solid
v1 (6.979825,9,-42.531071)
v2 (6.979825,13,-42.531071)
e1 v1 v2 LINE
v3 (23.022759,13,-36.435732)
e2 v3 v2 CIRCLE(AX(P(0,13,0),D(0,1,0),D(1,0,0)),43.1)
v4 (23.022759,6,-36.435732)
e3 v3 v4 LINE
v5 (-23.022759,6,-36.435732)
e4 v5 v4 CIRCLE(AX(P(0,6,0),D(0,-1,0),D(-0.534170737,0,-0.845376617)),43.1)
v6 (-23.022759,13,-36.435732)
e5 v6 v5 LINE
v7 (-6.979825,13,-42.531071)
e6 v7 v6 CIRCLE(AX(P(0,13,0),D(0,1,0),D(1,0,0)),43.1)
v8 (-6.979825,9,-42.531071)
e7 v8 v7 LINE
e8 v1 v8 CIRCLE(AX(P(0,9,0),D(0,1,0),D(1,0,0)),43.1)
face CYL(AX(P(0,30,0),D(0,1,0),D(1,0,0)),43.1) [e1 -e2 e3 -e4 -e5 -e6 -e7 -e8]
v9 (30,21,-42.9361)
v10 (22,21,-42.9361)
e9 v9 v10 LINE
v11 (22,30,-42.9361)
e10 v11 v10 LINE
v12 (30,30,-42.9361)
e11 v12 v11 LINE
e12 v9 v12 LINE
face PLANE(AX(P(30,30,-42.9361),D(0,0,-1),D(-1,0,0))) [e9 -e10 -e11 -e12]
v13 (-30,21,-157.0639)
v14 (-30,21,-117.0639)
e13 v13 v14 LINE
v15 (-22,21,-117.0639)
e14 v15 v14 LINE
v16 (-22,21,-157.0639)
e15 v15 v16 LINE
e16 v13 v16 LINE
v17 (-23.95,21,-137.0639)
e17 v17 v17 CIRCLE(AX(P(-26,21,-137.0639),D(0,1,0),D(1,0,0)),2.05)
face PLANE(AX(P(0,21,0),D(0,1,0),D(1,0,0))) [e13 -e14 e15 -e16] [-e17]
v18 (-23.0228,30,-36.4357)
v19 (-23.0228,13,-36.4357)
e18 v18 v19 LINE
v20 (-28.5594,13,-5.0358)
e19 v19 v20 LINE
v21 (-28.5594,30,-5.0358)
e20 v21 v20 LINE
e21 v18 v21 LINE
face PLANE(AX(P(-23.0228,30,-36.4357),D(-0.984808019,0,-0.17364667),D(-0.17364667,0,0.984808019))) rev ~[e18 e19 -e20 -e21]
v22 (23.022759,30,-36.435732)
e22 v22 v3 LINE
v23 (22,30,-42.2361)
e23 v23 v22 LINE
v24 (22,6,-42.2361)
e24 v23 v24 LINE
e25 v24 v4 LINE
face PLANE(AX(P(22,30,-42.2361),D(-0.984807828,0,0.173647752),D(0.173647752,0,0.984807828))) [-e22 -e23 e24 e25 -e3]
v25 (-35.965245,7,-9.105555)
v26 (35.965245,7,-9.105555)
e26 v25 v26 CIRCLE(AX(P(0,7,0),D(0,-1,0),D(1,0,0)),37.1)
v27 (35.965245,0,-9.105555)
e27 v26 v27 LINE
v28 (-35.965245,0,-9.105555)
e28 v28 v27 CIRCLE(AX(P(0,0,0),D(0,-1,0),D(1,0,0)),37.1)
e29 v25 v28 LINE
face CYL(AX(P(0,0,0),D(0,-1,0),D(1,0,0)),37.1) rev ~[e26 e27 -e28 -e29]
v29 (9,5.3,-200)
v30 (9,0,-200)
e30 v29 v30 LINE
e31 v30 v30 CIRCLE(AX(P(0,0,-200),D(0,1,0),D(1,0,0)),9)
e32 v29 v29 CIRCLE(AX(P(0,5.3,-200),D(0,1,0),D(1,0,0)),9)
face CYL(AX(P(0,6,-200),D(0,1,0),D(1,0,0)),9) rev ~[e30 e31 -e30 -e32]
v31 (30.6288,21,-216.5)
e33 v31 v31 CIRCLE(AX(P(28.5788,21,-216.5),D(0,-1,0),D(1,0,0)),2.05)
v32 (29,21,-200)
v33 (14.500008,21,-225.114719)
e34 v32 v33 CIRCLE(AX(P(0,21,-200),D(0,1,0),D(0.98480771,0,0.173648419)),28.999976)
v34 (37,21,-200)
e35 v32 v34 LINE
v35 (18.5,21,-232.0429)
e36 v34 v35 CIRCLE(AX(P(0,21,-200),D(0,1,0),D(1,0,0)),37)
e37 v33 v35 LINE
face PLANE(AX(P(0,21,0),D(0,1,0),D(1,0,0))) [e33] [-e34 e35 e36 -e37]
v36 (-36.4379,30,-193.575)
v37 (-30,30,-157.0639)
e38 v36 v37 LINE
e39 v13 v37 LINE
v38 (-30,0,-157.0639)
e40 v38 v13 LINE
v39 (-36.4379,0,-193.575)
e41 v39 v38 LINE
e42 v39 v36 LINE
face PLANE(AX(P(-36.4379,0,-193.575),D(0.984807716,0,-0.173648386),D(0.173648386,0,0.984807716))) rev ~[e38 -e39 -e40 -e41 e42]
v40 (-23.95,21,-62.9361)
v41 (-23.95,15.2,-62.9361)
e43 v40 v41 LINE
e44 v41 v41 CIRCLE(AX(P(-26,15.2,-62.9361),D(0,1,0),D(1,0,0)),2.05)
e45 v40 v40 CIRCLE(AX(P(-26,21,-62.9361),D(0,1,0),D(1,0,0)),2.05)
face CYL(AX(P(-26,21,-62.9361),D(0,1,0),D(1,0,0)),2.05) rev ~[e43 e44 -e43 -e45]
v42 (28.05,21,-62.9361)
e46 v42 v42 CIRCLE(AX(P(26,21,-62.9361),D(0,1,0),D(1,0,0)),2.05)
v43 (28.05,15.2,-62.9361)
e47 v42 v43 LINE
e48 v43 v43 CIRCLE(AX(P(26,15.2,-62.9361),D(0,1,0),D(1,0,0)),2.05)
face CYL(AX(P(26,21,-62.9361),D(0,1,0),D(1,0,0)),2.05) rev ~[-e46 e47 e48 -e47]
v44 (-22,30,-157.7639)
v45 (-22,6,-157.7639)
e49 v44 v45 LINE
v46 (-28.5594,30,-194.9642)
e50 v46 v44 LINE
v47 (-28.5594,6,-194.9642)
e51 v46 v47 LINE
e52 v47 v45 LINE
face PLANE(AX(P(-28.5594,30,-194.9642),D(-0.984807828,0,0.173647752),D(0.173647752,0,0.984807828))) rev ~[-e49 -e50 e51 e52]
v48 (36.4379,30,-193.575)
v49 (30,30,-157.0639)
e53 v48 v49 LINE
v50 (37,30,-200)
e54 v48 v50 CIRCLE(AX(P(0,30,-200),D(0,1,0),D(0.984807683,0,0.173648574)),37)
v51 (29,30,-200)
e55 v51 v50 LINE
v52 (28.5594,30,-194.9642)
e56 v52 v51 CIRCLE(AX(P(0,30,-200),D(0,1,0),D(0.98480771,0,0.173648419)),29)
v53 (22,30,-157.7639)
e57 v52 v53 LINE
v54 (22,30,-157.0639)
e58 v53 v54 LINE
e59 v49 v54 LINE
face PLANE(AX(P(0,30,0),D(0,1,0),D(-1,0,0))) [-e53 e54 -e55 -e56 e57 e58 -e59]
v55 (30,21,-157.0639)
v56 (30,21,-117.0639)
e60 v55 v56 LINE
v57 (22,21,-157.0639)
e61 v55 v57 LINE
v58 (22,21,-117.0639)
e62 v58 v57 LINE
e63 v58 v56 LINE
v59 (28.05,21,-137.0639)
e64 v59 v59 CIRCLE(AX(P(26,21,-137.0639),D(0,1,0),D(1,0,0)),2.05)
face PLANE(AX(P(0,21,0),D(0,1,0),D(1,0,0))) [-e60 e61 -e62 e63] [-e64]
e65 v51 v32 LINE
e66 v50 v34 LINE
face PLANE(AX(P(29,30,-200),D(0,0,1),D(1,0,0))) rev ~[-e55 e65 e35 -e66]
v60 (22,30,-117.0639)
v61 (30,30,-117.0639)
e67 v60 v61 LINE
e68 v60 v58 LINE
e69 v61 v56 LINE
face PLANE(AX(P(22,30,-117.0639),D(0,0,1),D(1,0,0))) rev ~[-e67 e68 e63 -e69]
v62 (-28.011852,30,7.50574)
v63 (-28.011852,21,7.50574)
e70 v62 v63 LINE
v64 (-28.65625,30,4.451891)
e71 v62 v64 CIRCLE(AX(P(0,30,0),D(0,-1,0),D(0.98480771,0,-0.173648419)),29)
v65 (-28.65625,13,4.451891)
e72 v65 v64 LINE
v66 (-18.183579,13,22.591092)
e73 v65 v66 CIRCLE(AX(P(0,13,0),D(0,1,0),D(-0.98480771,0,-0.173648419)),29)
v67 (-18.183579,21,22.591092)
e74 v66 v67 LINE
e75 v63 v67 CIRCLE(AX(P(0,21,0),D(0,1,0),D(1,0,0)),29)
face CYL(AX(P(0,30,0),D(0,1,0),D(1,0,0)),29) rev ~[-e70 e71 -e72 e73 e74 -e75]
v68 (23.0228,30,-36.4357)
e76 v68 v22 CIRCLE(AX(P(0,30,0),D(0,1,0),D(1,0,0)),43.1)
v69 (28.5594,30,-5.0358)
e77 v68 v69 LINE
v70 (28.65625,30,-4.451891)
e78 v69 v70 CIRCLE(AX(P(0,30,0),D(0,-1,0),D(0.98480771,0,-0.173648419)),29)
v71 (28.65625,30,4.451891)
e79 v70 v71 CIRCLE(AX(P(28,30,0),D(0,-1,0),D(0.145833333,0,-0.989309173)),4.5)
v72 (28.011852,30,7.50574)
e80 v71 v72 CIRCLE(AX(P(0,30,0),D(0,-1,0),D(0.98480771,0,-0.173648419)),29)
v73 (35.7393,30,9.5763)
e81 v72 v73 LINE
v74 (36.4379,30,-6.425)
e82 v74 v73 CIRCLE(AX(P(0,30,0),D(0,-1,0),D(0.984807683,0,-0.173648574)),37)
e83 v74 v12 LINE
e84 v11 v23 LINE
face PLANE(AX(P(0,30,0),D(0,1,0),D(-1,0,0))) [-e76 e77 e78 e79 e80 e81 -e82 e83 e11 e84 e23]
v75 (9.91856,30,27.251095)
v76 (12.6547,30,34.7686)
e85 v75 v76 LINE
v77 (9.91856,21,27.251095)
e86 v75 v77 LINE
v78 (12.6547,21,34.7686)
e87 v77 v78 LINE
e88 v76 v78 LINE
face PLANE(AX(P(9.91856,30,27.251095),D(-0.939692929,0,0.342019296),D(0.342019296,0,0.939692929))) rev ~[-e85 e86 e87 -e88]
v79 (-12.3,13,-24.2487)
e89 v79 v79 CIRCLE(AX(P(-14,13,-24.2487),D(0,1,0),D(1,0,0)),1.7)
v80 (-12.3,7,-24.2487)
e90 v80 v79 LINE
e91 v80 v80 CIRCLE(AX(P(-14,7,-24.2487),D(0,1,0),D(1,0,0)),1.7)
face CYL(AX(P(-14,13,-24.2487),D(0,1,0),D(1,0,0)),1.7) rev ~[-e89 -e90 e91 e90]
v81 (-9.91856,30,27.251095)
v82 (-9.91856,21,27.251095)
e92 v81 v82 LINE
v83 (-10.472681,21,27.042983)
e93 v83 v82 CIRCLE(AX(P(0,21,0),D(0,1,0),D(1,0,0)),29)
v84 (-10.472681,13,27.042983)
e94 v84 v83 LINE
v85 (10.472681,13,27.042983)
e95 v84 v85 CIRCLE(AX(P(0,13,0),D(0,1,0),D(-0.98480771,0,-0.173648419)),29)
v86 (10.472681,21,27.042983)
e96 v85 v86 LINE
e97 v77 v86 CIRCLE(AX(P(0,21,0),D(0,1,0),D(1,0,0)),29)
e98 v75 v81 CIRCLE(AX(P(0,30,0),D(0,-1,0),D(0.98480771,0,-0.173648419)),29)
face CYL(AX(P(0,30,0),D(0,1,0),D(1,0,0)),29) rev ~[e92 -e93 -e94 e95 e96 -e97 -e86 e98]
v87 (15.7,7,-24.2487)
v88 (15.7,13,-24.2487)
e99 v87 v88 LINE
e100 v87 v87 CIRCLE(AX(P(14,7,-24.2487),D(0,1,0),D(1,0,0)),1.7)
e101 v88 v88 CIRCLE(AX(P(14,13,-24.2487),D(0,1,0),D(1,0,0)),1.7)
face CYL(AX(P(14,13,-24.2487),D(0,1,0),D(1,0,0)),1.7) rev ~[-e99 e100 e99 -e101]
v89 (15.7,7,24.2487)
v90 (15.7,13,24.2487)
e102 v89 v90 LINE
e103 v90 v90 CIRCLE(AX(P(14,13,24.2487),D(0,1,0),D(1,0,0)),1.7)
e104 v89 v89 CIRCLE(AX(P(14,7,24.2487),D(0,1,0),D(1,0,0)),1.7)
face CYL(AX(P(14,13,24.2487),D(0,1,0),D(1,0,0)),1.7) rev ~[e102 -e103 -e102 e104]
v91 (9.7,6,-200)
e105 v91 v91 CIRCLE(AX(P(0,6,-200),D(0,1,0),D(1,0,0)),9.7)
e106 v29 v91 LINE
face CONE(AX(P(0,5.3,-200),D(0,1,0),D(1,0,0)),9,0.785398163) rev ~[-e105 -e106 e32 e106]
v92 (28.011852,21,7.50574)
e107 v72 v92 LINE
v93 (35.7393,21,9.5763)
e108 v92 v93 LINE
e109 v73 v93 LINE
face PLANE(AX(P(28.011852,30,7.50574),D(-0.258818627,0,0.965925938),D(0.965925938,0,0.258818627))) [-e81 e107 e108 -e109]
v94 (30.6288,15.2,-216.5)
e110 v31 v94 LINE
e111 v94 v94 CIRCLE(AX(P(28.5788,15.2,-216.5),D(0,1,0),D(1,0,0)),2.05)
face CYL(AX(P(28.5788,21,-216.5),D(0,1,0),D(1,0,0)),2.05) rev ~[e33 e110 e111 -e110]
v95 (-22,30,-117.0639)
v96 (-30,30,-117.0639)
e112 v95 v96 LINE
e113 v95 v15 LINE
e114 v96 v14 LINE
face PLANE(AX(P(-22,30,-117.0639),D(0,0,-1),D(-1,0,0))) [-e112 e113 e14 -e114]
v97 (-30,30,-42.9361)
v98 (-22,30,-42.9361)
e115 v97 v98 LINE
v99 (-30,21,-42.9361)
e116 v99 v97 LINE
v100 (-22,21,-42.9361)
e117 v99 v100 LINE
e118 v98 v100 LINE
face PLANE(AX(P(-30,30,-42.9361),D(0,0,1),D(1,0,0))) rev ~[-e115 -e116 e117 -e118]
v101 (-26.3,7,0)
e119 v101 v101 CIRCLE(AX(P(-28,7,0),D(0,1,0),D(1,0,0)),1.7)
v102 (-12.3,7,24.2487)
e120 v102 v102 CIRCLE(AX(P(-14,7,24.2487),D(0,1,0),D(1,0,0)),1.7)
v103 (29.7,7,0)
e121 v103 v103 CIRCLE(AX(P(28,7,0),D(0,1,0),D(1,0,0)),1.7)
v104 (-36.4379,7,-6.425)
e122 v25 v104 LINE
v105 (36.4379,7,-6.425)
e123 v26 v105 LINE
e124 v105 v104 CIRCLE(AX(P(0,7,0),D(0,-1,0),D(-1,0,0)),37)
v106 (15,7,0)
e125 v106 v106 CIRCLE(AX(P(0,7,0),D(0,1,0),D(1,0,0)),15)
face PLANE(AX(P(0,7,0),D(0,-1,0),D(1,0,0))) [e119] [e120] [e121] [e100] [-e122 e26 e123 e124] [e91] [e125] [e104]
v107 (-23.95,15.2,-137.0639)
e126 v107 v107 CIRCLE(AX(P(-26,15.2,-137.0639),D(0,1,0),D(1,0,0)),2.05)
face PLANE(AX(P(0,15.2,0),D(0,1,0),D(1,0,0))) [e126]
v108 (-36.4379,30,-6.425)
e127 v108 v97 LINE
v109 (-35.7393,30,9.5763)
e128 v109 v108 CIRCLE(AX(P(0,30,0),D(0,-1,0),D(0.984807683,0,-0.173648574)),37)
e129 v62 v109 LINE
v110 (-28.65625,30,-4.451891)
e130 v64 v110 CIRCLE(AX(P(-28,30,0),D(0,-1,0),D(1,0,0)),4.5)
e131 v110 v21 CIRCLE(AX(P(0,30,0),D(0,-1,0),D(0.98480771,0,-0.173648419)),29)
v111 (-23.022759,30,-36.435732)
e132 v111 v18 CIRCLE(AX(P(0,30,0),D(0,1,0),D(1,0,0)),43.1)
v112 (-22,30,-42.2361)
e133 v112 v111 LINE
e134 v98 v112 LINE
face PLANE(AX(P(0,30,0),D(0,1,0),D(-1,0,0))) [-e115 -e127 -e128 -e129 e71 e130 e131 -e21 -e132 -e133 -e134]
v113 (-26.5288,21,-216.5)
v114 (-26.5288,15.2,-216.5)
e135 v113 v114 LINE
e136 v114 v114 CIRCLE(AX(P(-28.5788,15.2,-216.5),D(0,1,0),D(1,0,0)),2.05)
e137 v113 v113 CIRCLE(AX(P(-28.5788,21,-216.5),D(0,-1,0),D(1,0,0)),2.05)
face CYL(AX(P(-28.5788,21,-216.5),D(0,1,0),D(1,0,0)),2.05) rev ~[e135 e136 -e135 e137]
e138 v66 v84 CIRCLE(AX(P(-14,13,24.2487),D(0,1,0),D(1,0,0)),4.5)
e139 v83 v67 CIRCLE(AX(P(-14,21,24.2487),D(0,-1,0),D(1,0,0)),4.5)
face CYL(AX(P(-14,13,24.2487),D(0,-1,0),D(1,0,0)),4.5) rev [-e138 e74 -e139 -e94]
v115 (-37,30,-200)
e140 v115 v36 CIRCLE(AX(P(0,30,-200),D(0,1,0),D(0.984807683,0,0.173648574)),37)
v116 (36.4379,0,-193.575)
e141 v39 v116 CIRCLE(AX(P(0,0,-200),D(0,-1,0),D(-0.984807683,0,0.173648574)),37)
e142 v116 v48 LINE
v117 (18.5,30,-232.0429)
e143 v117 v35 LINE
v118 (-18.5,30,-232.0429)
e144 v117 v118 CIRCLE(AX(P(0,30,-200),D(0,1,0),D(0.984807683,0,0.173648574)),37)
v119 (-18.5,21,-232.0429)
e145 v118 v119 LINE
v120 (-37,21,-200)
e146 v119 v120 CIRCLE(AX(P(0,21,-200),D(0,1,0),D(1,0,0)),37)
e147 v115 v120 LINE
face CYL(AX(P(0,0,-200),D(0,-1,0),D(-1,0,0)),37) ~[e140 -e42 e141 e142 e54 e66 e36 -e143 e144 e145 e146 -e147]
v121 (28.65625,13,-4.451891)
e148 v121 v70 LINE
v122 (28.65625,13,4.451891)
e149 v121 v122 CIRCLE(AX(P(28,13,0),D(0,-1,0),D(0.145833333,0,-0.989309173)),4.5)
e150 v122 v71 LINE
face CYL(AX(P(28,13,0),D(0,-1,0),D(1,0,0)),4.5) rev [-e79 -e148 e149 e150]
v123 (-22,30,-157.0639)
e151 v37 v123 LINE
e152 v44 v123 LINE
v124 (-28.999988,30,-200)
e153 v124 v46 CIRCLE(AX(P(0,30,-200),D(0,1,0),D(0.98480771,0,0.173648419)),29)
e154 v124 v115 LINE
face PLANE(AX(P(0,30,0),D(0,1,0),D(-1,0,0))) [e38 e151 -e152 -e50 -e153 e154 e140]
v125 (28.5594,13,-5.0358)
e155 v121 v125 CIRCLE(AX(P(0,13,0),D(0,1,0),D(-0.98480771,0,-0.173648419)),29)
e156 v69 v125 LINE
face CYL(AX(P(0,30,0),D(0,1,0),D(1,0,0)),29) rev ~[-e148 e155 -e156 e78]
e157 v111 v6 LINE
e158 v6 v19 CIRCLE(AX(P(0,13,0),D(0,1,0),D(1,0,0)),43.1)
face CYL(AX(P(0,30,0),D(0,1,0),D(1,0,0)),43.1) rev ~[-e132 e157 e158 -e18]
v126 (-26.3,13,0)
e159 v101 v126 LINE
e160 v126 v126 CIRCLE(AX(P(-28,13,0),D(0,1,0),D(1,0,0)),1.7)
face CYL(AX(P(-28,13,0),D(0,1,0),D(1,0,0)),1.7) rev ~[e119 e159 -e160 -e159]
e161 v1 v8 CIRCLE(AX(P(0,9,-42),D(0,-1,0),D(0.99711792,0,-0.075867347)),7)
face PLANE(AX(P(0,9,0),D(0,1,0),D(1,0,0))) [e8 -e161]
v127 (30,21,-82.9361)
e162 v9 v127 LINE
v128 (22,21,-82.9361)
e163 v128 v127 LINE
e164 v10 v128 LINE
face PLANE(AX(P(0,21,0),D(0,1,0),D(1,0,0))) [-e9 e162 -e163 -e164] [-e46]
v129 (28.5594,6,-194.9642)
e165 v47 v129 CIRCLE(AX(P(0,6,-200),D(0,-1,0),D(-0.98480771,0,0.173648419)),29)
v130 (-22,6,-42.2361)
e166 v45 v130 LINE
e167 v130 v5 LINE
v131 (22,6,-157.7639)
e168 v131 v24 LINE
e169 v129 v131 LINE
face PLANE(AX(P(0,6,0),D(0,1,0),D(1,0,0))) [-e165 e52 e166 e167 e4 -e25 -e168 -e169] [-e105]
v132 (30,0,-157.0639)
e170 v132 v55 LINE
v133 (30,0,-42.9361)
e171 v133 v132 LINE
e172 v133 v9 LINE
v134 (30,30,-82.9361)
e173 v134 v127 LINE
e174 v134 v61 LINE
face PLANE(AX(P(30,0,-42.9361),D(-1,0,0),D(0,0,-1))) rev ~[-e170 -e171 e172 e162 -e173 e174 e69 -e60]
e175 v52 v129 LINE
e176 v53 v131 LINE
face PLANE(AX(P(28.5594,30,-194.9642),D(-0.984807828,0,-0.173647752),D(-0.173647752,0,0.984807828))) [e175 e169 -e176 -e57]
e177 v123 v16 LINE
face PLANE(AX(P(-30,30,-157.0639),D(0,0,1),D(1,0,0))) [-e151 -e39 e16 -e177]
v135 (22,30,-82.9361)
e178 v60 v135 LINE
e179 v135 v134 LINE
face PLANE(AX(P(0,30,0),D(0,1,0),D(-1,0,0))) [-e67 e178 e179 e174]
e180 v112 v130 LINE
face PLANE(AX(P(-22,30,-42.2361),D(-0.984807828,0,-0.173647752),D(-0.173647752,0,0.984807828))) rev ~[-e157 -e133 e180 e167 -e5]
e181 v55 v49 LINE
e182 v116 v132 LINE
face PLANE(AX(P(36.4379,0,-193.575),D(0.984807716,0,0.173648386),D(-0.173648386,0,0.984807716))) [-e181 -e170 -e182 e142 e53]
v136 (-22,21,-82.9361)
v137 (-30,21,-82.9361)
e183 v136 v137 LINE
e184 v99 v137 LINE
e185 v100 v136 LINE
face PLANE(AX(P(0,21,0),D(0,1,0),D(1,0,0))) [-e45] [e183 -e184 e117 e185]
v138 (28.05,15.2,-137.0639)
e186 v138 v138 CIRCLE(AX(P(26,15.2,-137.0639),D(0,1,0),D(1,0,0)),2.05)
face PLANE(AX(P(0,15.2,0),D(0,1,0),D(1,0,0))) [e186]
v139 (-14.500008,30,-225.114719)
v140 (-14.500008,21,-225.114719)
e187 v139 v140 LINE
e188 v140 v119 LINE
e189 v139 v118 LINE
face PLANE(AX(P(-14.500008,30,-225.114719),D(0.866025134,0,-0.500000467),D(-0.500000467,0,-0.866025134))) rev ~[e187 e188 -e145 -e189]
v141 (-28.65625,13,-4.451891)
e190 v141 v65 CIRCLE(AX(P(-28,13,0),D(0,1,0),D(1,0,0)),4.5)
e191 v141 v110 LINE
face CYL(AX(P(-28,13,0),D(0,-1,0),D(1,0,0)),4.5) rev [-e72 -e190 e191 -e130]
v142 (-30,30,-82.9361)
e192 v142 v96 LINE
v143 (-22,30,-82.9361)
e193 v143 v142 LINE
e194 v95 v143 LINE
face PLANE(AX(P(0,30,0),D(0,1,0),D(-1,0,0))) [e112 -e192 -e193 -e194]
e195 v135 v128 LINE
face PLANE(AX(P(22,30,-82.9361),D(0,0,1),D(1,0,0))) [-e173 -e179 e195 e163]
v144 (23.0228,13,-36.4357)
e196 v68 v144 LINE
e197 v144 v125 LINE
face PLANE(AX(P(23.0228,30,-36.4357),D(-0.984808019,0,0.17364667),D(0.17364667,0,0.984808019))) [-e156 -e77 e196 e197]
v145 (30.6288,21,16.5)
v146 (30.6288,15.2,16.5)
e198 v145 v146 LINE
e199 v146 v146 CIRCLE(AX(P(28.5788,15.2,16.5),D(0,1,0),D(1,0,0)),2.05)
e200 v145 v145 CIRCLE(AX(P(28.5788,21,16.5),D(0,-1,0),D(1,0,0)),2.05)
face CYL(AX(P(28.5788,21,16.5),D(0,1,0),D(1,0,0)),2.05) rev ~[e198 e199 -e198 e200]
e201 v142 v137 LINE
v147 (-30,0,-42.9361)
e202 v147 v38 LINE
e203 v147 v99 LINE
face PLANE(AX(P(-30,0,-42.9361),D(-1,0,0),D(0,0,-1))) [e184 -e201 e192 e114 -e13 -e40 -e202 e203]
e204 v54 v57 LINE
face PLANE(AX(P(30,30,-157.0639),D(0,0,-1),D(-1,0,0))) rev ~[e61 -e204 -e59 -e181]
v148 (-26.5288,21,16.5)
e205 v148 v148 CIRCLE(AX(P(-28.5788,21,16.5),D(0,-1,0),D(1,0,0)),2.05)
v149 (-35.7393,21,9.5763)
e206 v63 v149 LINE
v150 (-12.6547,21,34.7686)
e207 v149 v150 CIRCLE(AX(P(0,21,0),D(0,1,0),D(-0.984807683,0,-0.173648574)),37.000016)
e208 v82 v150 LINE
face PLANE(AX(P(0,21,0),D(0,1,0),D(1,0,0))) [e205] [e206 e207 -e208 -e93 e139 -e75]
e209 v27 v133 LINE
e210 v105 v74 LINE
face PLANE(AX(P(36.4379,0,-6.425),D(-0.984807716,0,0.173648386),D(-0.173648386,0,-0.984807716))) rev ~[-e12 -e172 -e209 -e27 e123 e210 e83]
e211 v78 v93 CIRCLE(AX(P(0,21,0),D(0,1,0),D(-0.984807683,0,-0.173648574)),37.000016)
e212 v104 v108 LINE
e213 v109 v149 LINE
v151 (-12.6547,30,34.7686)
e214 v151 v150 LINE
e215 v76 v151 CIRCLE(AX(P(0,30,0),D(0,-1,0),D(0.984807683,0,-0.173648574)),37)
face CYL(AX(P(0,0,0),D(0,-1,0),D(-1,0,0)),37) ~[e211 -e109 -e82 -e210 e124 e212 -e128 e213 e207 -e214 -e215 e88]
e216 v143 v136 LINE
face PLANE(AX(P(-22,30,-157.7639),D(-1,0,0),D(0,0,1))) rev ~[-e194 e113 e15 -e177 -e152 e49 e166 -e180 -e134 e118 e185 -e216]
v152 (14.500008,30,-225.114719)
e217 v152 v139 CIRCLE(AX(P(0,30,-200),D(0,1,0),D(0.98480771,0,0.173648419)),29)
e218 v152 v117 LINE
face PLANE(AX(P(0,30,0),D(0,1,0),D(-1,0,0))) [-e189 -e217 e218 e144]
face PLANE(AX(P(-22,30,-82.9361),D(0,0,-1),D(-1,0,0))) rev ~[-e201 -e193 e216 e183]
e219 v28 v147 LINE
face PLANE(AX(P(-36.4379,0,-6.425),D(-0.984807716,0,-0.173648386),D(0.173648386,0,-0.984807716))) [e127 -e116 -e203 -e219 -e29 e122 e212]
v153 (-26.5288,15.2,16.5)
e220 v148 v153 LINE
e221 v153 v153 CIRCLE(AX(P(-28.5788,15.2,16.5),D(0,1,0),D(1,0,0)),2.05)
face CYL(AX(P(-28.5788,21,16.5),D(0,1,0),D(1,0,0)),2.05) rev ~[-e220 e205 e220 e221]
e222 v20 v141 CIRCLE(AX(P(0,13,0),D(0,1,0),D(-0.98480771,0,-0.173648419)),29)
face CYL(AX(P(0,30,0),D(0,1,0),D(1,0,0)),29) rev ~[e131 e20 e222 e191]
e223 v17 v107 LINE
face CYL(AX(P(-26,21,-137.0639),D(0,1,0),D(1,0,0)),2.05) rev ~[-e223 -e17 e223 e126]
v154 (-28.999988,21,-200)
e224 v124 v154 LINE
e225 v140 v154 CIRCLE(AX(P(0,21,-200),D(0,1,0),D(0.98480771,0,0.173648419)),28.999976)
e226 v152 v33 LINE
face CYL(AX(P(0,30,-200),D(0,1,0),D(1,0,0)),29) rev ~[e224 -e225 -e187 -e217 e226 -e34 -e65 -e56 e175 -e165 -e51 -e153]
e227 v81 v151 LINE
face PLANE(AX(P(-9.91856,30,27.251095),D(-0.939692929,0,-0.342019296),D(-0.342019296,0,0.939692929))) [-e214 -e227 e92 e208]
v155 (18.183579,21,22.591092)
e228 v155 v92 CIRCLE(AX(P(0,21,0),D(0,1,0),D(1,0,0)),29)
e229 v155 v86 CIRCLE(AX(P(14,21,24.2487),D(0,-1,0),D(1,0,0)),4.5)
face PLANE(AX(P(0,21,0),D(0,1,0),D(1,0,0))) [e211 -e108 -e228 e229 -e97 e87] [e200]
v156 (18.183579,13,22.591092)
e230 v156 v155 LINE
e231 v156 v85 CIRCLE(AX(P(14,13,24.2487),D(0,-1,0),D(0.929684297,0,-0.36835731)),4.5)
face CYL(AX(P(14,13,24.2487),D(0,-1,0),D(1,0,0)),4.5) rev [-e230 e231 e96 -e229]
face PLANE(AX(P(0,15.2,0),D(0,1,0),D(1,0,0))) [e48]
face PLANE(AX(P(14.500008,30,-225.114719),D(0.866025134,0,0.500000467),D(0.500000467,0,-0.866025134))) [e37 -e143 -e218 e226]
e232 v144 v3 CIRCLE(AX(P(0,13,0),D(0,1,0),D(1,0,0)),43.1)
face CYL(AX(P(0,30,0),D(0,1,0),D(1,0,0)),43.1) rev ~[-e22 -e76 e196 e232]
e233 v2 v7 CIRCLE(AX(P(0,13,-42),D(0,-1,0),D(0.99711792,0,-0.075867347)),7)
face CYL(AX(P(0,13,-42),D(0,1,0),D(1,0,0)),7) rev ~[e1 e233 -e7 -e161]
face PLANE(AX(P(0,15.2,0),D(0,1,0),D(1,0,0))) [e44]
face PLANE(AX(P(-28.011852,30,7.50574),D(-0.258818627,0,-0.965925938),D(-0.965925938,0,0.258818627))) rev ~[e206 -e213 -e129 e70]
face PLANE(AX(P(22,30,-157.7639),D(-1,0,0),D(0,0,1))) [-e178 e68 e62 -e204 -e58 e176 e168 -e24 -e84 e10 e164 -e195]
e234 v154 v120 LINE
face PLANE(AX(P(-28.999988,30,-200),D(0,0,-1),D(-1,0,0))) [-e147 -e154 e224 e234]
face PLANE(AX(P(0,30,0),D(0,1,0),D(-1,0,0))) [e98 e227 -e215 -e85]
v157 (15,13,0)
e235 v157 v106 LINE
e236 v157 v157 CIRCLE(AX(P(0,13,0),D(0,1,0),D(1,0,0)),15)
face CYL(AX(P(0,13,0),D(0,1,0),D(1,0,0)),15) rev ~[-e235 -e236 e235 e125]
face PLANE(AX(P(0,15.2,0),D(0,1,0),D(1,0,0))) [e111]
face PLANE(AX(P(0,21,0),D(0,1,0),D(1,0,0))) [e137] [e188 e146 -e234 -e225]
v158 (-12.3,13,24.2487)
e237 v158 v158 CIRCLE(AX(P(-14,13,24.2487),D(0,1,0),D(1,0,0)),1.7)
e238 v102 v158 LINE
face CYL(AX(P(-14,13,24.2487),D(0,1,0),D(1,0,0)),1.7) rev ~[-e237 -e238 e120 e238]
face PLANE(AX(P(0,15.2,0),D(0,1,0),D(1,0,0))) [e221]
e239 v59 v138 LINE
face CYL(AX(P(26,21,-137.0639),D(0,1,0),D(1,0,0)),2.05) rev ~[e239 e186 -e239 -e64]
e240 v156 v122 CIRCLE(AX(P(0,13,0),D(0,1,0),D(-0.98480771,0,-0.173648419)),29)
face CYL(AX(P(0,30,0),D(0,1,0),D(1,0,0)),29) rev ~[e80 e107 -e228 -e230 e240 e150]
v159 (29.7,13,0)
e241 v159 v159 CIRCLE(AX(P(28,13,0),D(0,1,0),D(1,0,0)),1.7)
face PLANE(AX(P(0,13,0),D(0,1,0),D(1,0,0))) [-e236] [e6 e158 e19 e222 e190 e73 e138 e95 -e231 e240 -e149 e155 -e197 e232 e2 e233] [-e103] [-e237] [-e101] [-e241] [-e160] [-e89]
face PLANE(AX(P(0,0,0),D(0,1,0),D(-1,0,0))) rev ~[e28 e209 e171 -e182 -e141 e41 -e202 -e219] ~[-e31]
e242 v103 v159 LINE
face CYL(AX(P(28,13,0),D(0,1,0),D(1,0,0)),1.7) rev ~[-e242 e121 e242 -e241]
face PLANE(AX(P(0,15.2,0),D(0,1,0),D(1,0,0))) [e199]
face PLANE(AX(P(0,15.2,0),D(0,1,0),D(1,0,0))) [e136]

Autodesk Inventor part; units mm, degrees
ref_plane "YZ Plane" through (0, 0, 0) normal (1, 0, 0) x (0, 1, 0)
ref_plane "XZ Plane" through (0, 0, 0) normal (0, 1, 0) x (-1, 0, 0)
ref_plane "XY Plane" through (0, 0, 0) normal (0, 0, 1) x (1, 0, 0)
sketch "Boceto1" plane through (0, 0, 0) normal (0, 1, 0) x (-1, 0, 0)
  circle A0 centre (0, 0) radius 37
  circle A1 centre (0, -200) radius 37
  line L0 (0, 0) -> (0, -200)
  line L1 (30, -21.6564) -> (30, -178.3436)
  line L2 (-30, -21.6564) -> (-30, -178.3436)
  line L3 (36.4379, -6.425) -> (30, -42.9361)
  line L4 (0, -100) -> (14.5981, -100)
  line L5 (36.4379, -193.575) -> (30, -157.0639)
  line L6 (-36.4379, -6.425) -> (-30, -42.9361)
  line L7 (-36.4379, -193.575) -> (-30, -157.0639)
  point P0 (-36.4379, -6.425)
  point P1 (-30, -42.9361)
  point P2 (-30, -157.0639)
  point P3 (-36.4379, -193.575)
  dimension "d0" = 200
  dimension "d1" = 74
  dimension "d2" = 74
  dimension "d3" = 60
  dimension "d4" = 170
extrude "Extrusión1" add sketch "Boceto1" along normal blind 30
sketch "Boceto2" plane through (0, 0, 0) normal (0, -1, 0) x (1, 0, 0)
  circle A0 centre (0, 0) radius 37.1
  dimension "d7" = 74.2
extrude "Extrusión2" cut sketch "Boceto2" against normal blind 7
sketch "Boceto3" plane through (0, 30, 0) normal (0, 1, 0) x (1, 0, 0)
  circle A0 centre (0, 0) radius 43.1
  arc A1 (36.4379, 193.575) -> (-36.4379, 193.575) centre (0, 200) ccw projected
  circle A2 centre (0, 200) radius 29
  line L0 (-28.5594, 194.9642) -> (-22, 157.7639)
  line L1 (-36.4379, 193.575) -> (-30, 157.0639) projected
  line L2 (-22, 157.7639) -> (-22, 42.2361)
  line L3 (-30, 157.0639) -> (-30, 42.9361) projected
  line L4 (0, 0) -> (0, 200)
  line L5 (28.5594, 194.9642) -> (22, 157.7639)
  line L6 (22, 157.7639) -> (22, 42.2361)
  circle A3 centre (0, 0) radius 29
  line L7 (-22, 42.2361) -> (-28.5594, 5.0358)
  line L8 (22, 42.2361) -> (28.5594, 5.0358)
  line L9 (-30, 42.9361) -> (-36.4379, 6.425) projected
  line L10 (36.4379, 6.425) -> (30, 42.9361) projected
  point P0 (-22, 37.0622)
  point P1 (22, 37.0622)
  point P2 (22, 37.0622)
  point P3 (28.5594, 194.9642)
  point P4 (-23.0228, 36.4357)
  point P5 (23.0228, 36.4357)
  dimension "d10" = 86.2
  dimension "d11" = 58
  dimension "d12" = 8
  dimension "d60" = 58
extrude "Extrusión3" cut sketch "Boceto3" against normal blind 24 contours A0 L4 A2 L5 L6 L8 | L7 L2 L0 A2 L4 A0 | A2
sketch "Boceto5" plane through (0, 30, 0) normal (0, 1, 0) x (1, 0, 0)
  circle A0 centre (0, 0) radius 29
  circle A1 centre (0, 0) radius 43.1
  line L0 (-23.0228, 36.4357) -> (-28.5594, 5.0358)
  line L1 (23.0228, 36.4357) -> (28.5594, 5.0358)
  line L2 (-30, 42.9361) -> (-36.4379, 6.425) projected
  line L3 (36.4379, 6.425) -> (30, 42.9361) projected
  dimension "d15" = 58
  dimension "d16" = 86.2
extrude "Extrusión4" cut sketch "Boceto5" against normal blind 17 contours A0 | A0 L0 A1 L1 picked at (2.6828, 38.1473)
sketch "Boceto6" plane through (0, 13, 0) normal (0, 1, 0) x (1, 0, 0)
  circle A0 centre (0, 0) radius 28
  circle A1 centre (14, -24.2487) radius 1.7
  circle A2 centre (28, 0) radius 1.7
  circle A3 centre (14, 24.2487) radius 1.7
  circle A4 centre (-14, 24.2487) radius 1.7
  circle A5 centre (-28, 0) radius 1.7
  circle A6 centre (-14, -24.2487) radius 1.7
  line L0 (-0.7827, -11.2442) -> (-0.7827, 11.3946)
  line L1 (0, 0) -> (-14, -24.2487)
  dimension "d19" = 56
  dimension "d20" = 3.4
  dimension "d23" = 360
  dimension "d34" = 30
extrude "Extrusión5" cut sketch "Boceto6" along normal through all both and the other way through all contours A0 A2 | A0 A2 | A3 A0 | A0 A3 | A1 A0 | A0 A1 | A4 A0 | A0 A4 | A6 A0 | A0 L1 A6 | A0 A6 L1 | A5 A0 | A0 A5
sketch "Boceto7" plane through (0, 13, 0) normal (0, 1, 0) x (1, 0, 0)
  circle A0 centre (-14, -24.2487) radius 1.7 projected
  circle A1 centre (-14, -24.2487) radius 4.5
  circle A2 centre (14, -24.2487) radius 4.5
  circle A3 centre (28, 0) radius 4.5
  circle A4 centre (14, 24.2487) radius 4.5
  circle A5 centre (-14, 24.2487) radius 4.5
  circle A6 centre (-28, 0) radius 4.5
  point P0 (0, 0)
  dimension "d27" = 9
  dimension "d30" = 360
extrude "Extrusión6" cut sketch "Boceto7" along normal through all contours A0 | A1 | A2 | A3 | A4 | A5 | A6
sketch "Boceto8" plane through (0, 13, 0) normal (0, 1, 0) x (1, 0, 0)
  circle A0 centre (0, 0) radius 15
  dimension "d35" = 30
extrude "Extrusión7" cut sketch "Boceto8" against normal through all
sketch "Boceto9" plane through (0, 30, 0) normal (0, 1, 0) x (1, 0, 0)
  arc A0 (28.5594, 194.9642) -> (-28.5594, 194.9642) centre (0, 200) ccw projected
  circle A1 centre (0, 200) radius 29
  circle A2 centre (0, 200) radius 37
  line L0 (0, 200) -> (-18.5, 232.0429)
  line L1 (0, 200) -> (0, 0)
  line L2 (0, 0) -> (-12.6547, -34.7686)
  arc A3 (-36.4379, 6.425) -> (36.4379, 6.425) centre (0, 0) ccw projected
  line L3 (0, 0) -> (-35.7393, -9.5763)
  line L4 (-30, 42.9361) -> (-22, 42.9361)
  line L5 (-22, 42.9361) -> (-22, 82.9361)
  line L6 (-22, 82.9361) -> (-30, 82.9361)
  line L7 (-30, 42.9361) -> (-30, 82.9361)
  line L8 (-30, 157.0639) -> (-22, 157.0639)
  line L9 (-22, 117.0639) -> (-30, 117.0639)
  line L10 (-30, 157.0639) -> (-30, 117.0639)
  line L11 (0, 200) -> (-37, 200)
  line L12 (-22, 117.0639) -> (-22, 157.0639)
  line L13 (-22, 42.2361) -> (-22, 157.7639) projected
  line L14 (0, 200) -> (18.5, 232.0429)
  line L15 (0, 0) -> (12.6547, -34.7686)
  line L16 (0, 0) -> (35.7393, -9.5763)
  line L17 (30, 42.9361) -> (22, 42.9361)
  line L18 (22, 42.9361) -> (22, 82.9361)
  line L19 (22, 82.9361) -> (30, 82.9361)
  line L20 (30, 42.9361) -> (30, 82.9361)
  line L21 (30, 157.0639) -> (22, 157.0639)
  line L22 (22, 117.0639) -> (30, 117.0639)
  line L23 (30, 157.0639) -> (30, 117.0639)
  line L24 (0, 200) -> (37, 200)
  line L25 (22, 117.0639) -> (22, 157.0639)
  circle A4 centre (0, 0) radius 29
  circle A5 centre (0, 0) radius 37
  point P0 (-22, 37.0622)
  point P1 (22, 37.0622)
  point P2 (22, 157.7639)
  point P3 (14.5, 225.1147)
  point P4 (29, 200)
  point P5 (-29, 200)
  point P6 (-14.5, 225.1147)
  point P7 (28.0118, -7.5058)
  point P8 (9.9186, -27.2511)
  point P9 (35.7393, -9.5763)
  point P10 (-9.9186, -27.2511)
  point P11 (-28.0118, -7.5058)
  dimension "d38" = 30
  dimension "d39" = 20
  dimension "d40" = 55
  dimension "d41" = 40
  dimension "d42" = 40
extrude "Extrusión8" cut sketch "Boceto9" against normal blind 9 contours A0 L14 A2 L24 | A0 L11 A2 L0 | A4 L2 A3 L3 | A4 L16 A3 L15 | L7 L6 L5 L4 | L9 L10 L8 L12 | L17 L18 L19 L20 | L23 L22 L25 L21
sketch "Boceto10" plane through (0, 21, 0) normal (0, 1, 0) x (1, 0, 0)
  circle A0 centre (-26, 62.9361) radius 2.05
  circle A1 centre (-26, 137.0639) radius 2.05
  arc A2 (-29, 200) -> (-28.5594, 194.9642) centre (0, 200) ccw projected
  circle A3 centre (0, 200) radius 33
  circle A4 centre (-28.5788, 216.5) radius 2.05
  circle A5 centre (0, 0) radius 33
  circle A6 centre (-28.5788, -16.5) radius 2.05
  line L0 (-30, 42.9361) -> (-30, 82.9361) projected
  line L1 (-30, 82.9361) -> (-22, 82.9361) projected
  line L2 (-30, 117.0639) -> (-30, 157.0639) projected
  line L3 (-22, 117.0639) -> (-30, 117.0639) projected
  line L4 (0, 200) -> (-28.5788, 216.5)
  line L5 (0, 0) -> (-28.5788, -16.5)
  line L6 (0, 0) -> (0, 200)
  circle A7 centre (26, 62.9361) radius 2.05
  circle A8 centre (26, 137.0639) radius 2.05
  circle A9 centre (28.5788, 216.5) radius 2.05
  circle A10 centre (28.5788, -16.5) radius 2.05
  line L7 (0, 200) -> (28.5788, 216.5)
  line L8 (0, 0) -> (28.5788, -16.5)
  dimension "d45" = 66
  dimension "d46" = 66
  dimension "d47" = 4.1
  dimension "d48" = 4
  dimension "d49" = 20
  dimension "d50" = 4
  dimension "d51" = 20
  dimension "d53" = 60
  dimension "d54" = 60
extrude "Extrusión9" cut sketch "Boceto10" against normal blind 5.8 contours A0 | A1 | A9 L7 A3 | A3 A9 | L7 A9 A3 | A4 A3 | A3 L4 A4 | A3 A4 L4 | A6 L5 A5 | A5 A6 | A10 A5 | A5 L8 A10 | L5 A6 A5 | L8 A5 A10 | A7 | A8
sketch "Boceto11" plane through (0, 6, 0) normal (0, 1, 0) x (1, 0, 0)
  arc A0 (14.5, 225.1147) -> (-14.5, 225.1147) centre (0, 200) ccw projected
  circle A1 centre (0, 200) radius 9
  point P0 (0, 0)
  dimension "d57" = 18
extrude "Extrusión10" cut sketch "Boceto11" against normal through all
sketch "Boceto12" plane through (0, 13, 0) normal (0, 1, 0) x (1, 0, 0)
  circle A0 centre (0, 42) radius 7
  point P0 (0, 0)
  dimension "d61" = 14
  dimension "d62" = 42
extrude "Extrusión11" cut sketch "Boceto12" against normal blind 4
chamfer "Chaflán1" distance 0.7 angle 45 1 edges at (-9, 6, -200)
equation "\"d5\" = altura"
equation "\"altura\" = 30"
properties part number "Tercer segmento - superior" material "Plastico PETG"
